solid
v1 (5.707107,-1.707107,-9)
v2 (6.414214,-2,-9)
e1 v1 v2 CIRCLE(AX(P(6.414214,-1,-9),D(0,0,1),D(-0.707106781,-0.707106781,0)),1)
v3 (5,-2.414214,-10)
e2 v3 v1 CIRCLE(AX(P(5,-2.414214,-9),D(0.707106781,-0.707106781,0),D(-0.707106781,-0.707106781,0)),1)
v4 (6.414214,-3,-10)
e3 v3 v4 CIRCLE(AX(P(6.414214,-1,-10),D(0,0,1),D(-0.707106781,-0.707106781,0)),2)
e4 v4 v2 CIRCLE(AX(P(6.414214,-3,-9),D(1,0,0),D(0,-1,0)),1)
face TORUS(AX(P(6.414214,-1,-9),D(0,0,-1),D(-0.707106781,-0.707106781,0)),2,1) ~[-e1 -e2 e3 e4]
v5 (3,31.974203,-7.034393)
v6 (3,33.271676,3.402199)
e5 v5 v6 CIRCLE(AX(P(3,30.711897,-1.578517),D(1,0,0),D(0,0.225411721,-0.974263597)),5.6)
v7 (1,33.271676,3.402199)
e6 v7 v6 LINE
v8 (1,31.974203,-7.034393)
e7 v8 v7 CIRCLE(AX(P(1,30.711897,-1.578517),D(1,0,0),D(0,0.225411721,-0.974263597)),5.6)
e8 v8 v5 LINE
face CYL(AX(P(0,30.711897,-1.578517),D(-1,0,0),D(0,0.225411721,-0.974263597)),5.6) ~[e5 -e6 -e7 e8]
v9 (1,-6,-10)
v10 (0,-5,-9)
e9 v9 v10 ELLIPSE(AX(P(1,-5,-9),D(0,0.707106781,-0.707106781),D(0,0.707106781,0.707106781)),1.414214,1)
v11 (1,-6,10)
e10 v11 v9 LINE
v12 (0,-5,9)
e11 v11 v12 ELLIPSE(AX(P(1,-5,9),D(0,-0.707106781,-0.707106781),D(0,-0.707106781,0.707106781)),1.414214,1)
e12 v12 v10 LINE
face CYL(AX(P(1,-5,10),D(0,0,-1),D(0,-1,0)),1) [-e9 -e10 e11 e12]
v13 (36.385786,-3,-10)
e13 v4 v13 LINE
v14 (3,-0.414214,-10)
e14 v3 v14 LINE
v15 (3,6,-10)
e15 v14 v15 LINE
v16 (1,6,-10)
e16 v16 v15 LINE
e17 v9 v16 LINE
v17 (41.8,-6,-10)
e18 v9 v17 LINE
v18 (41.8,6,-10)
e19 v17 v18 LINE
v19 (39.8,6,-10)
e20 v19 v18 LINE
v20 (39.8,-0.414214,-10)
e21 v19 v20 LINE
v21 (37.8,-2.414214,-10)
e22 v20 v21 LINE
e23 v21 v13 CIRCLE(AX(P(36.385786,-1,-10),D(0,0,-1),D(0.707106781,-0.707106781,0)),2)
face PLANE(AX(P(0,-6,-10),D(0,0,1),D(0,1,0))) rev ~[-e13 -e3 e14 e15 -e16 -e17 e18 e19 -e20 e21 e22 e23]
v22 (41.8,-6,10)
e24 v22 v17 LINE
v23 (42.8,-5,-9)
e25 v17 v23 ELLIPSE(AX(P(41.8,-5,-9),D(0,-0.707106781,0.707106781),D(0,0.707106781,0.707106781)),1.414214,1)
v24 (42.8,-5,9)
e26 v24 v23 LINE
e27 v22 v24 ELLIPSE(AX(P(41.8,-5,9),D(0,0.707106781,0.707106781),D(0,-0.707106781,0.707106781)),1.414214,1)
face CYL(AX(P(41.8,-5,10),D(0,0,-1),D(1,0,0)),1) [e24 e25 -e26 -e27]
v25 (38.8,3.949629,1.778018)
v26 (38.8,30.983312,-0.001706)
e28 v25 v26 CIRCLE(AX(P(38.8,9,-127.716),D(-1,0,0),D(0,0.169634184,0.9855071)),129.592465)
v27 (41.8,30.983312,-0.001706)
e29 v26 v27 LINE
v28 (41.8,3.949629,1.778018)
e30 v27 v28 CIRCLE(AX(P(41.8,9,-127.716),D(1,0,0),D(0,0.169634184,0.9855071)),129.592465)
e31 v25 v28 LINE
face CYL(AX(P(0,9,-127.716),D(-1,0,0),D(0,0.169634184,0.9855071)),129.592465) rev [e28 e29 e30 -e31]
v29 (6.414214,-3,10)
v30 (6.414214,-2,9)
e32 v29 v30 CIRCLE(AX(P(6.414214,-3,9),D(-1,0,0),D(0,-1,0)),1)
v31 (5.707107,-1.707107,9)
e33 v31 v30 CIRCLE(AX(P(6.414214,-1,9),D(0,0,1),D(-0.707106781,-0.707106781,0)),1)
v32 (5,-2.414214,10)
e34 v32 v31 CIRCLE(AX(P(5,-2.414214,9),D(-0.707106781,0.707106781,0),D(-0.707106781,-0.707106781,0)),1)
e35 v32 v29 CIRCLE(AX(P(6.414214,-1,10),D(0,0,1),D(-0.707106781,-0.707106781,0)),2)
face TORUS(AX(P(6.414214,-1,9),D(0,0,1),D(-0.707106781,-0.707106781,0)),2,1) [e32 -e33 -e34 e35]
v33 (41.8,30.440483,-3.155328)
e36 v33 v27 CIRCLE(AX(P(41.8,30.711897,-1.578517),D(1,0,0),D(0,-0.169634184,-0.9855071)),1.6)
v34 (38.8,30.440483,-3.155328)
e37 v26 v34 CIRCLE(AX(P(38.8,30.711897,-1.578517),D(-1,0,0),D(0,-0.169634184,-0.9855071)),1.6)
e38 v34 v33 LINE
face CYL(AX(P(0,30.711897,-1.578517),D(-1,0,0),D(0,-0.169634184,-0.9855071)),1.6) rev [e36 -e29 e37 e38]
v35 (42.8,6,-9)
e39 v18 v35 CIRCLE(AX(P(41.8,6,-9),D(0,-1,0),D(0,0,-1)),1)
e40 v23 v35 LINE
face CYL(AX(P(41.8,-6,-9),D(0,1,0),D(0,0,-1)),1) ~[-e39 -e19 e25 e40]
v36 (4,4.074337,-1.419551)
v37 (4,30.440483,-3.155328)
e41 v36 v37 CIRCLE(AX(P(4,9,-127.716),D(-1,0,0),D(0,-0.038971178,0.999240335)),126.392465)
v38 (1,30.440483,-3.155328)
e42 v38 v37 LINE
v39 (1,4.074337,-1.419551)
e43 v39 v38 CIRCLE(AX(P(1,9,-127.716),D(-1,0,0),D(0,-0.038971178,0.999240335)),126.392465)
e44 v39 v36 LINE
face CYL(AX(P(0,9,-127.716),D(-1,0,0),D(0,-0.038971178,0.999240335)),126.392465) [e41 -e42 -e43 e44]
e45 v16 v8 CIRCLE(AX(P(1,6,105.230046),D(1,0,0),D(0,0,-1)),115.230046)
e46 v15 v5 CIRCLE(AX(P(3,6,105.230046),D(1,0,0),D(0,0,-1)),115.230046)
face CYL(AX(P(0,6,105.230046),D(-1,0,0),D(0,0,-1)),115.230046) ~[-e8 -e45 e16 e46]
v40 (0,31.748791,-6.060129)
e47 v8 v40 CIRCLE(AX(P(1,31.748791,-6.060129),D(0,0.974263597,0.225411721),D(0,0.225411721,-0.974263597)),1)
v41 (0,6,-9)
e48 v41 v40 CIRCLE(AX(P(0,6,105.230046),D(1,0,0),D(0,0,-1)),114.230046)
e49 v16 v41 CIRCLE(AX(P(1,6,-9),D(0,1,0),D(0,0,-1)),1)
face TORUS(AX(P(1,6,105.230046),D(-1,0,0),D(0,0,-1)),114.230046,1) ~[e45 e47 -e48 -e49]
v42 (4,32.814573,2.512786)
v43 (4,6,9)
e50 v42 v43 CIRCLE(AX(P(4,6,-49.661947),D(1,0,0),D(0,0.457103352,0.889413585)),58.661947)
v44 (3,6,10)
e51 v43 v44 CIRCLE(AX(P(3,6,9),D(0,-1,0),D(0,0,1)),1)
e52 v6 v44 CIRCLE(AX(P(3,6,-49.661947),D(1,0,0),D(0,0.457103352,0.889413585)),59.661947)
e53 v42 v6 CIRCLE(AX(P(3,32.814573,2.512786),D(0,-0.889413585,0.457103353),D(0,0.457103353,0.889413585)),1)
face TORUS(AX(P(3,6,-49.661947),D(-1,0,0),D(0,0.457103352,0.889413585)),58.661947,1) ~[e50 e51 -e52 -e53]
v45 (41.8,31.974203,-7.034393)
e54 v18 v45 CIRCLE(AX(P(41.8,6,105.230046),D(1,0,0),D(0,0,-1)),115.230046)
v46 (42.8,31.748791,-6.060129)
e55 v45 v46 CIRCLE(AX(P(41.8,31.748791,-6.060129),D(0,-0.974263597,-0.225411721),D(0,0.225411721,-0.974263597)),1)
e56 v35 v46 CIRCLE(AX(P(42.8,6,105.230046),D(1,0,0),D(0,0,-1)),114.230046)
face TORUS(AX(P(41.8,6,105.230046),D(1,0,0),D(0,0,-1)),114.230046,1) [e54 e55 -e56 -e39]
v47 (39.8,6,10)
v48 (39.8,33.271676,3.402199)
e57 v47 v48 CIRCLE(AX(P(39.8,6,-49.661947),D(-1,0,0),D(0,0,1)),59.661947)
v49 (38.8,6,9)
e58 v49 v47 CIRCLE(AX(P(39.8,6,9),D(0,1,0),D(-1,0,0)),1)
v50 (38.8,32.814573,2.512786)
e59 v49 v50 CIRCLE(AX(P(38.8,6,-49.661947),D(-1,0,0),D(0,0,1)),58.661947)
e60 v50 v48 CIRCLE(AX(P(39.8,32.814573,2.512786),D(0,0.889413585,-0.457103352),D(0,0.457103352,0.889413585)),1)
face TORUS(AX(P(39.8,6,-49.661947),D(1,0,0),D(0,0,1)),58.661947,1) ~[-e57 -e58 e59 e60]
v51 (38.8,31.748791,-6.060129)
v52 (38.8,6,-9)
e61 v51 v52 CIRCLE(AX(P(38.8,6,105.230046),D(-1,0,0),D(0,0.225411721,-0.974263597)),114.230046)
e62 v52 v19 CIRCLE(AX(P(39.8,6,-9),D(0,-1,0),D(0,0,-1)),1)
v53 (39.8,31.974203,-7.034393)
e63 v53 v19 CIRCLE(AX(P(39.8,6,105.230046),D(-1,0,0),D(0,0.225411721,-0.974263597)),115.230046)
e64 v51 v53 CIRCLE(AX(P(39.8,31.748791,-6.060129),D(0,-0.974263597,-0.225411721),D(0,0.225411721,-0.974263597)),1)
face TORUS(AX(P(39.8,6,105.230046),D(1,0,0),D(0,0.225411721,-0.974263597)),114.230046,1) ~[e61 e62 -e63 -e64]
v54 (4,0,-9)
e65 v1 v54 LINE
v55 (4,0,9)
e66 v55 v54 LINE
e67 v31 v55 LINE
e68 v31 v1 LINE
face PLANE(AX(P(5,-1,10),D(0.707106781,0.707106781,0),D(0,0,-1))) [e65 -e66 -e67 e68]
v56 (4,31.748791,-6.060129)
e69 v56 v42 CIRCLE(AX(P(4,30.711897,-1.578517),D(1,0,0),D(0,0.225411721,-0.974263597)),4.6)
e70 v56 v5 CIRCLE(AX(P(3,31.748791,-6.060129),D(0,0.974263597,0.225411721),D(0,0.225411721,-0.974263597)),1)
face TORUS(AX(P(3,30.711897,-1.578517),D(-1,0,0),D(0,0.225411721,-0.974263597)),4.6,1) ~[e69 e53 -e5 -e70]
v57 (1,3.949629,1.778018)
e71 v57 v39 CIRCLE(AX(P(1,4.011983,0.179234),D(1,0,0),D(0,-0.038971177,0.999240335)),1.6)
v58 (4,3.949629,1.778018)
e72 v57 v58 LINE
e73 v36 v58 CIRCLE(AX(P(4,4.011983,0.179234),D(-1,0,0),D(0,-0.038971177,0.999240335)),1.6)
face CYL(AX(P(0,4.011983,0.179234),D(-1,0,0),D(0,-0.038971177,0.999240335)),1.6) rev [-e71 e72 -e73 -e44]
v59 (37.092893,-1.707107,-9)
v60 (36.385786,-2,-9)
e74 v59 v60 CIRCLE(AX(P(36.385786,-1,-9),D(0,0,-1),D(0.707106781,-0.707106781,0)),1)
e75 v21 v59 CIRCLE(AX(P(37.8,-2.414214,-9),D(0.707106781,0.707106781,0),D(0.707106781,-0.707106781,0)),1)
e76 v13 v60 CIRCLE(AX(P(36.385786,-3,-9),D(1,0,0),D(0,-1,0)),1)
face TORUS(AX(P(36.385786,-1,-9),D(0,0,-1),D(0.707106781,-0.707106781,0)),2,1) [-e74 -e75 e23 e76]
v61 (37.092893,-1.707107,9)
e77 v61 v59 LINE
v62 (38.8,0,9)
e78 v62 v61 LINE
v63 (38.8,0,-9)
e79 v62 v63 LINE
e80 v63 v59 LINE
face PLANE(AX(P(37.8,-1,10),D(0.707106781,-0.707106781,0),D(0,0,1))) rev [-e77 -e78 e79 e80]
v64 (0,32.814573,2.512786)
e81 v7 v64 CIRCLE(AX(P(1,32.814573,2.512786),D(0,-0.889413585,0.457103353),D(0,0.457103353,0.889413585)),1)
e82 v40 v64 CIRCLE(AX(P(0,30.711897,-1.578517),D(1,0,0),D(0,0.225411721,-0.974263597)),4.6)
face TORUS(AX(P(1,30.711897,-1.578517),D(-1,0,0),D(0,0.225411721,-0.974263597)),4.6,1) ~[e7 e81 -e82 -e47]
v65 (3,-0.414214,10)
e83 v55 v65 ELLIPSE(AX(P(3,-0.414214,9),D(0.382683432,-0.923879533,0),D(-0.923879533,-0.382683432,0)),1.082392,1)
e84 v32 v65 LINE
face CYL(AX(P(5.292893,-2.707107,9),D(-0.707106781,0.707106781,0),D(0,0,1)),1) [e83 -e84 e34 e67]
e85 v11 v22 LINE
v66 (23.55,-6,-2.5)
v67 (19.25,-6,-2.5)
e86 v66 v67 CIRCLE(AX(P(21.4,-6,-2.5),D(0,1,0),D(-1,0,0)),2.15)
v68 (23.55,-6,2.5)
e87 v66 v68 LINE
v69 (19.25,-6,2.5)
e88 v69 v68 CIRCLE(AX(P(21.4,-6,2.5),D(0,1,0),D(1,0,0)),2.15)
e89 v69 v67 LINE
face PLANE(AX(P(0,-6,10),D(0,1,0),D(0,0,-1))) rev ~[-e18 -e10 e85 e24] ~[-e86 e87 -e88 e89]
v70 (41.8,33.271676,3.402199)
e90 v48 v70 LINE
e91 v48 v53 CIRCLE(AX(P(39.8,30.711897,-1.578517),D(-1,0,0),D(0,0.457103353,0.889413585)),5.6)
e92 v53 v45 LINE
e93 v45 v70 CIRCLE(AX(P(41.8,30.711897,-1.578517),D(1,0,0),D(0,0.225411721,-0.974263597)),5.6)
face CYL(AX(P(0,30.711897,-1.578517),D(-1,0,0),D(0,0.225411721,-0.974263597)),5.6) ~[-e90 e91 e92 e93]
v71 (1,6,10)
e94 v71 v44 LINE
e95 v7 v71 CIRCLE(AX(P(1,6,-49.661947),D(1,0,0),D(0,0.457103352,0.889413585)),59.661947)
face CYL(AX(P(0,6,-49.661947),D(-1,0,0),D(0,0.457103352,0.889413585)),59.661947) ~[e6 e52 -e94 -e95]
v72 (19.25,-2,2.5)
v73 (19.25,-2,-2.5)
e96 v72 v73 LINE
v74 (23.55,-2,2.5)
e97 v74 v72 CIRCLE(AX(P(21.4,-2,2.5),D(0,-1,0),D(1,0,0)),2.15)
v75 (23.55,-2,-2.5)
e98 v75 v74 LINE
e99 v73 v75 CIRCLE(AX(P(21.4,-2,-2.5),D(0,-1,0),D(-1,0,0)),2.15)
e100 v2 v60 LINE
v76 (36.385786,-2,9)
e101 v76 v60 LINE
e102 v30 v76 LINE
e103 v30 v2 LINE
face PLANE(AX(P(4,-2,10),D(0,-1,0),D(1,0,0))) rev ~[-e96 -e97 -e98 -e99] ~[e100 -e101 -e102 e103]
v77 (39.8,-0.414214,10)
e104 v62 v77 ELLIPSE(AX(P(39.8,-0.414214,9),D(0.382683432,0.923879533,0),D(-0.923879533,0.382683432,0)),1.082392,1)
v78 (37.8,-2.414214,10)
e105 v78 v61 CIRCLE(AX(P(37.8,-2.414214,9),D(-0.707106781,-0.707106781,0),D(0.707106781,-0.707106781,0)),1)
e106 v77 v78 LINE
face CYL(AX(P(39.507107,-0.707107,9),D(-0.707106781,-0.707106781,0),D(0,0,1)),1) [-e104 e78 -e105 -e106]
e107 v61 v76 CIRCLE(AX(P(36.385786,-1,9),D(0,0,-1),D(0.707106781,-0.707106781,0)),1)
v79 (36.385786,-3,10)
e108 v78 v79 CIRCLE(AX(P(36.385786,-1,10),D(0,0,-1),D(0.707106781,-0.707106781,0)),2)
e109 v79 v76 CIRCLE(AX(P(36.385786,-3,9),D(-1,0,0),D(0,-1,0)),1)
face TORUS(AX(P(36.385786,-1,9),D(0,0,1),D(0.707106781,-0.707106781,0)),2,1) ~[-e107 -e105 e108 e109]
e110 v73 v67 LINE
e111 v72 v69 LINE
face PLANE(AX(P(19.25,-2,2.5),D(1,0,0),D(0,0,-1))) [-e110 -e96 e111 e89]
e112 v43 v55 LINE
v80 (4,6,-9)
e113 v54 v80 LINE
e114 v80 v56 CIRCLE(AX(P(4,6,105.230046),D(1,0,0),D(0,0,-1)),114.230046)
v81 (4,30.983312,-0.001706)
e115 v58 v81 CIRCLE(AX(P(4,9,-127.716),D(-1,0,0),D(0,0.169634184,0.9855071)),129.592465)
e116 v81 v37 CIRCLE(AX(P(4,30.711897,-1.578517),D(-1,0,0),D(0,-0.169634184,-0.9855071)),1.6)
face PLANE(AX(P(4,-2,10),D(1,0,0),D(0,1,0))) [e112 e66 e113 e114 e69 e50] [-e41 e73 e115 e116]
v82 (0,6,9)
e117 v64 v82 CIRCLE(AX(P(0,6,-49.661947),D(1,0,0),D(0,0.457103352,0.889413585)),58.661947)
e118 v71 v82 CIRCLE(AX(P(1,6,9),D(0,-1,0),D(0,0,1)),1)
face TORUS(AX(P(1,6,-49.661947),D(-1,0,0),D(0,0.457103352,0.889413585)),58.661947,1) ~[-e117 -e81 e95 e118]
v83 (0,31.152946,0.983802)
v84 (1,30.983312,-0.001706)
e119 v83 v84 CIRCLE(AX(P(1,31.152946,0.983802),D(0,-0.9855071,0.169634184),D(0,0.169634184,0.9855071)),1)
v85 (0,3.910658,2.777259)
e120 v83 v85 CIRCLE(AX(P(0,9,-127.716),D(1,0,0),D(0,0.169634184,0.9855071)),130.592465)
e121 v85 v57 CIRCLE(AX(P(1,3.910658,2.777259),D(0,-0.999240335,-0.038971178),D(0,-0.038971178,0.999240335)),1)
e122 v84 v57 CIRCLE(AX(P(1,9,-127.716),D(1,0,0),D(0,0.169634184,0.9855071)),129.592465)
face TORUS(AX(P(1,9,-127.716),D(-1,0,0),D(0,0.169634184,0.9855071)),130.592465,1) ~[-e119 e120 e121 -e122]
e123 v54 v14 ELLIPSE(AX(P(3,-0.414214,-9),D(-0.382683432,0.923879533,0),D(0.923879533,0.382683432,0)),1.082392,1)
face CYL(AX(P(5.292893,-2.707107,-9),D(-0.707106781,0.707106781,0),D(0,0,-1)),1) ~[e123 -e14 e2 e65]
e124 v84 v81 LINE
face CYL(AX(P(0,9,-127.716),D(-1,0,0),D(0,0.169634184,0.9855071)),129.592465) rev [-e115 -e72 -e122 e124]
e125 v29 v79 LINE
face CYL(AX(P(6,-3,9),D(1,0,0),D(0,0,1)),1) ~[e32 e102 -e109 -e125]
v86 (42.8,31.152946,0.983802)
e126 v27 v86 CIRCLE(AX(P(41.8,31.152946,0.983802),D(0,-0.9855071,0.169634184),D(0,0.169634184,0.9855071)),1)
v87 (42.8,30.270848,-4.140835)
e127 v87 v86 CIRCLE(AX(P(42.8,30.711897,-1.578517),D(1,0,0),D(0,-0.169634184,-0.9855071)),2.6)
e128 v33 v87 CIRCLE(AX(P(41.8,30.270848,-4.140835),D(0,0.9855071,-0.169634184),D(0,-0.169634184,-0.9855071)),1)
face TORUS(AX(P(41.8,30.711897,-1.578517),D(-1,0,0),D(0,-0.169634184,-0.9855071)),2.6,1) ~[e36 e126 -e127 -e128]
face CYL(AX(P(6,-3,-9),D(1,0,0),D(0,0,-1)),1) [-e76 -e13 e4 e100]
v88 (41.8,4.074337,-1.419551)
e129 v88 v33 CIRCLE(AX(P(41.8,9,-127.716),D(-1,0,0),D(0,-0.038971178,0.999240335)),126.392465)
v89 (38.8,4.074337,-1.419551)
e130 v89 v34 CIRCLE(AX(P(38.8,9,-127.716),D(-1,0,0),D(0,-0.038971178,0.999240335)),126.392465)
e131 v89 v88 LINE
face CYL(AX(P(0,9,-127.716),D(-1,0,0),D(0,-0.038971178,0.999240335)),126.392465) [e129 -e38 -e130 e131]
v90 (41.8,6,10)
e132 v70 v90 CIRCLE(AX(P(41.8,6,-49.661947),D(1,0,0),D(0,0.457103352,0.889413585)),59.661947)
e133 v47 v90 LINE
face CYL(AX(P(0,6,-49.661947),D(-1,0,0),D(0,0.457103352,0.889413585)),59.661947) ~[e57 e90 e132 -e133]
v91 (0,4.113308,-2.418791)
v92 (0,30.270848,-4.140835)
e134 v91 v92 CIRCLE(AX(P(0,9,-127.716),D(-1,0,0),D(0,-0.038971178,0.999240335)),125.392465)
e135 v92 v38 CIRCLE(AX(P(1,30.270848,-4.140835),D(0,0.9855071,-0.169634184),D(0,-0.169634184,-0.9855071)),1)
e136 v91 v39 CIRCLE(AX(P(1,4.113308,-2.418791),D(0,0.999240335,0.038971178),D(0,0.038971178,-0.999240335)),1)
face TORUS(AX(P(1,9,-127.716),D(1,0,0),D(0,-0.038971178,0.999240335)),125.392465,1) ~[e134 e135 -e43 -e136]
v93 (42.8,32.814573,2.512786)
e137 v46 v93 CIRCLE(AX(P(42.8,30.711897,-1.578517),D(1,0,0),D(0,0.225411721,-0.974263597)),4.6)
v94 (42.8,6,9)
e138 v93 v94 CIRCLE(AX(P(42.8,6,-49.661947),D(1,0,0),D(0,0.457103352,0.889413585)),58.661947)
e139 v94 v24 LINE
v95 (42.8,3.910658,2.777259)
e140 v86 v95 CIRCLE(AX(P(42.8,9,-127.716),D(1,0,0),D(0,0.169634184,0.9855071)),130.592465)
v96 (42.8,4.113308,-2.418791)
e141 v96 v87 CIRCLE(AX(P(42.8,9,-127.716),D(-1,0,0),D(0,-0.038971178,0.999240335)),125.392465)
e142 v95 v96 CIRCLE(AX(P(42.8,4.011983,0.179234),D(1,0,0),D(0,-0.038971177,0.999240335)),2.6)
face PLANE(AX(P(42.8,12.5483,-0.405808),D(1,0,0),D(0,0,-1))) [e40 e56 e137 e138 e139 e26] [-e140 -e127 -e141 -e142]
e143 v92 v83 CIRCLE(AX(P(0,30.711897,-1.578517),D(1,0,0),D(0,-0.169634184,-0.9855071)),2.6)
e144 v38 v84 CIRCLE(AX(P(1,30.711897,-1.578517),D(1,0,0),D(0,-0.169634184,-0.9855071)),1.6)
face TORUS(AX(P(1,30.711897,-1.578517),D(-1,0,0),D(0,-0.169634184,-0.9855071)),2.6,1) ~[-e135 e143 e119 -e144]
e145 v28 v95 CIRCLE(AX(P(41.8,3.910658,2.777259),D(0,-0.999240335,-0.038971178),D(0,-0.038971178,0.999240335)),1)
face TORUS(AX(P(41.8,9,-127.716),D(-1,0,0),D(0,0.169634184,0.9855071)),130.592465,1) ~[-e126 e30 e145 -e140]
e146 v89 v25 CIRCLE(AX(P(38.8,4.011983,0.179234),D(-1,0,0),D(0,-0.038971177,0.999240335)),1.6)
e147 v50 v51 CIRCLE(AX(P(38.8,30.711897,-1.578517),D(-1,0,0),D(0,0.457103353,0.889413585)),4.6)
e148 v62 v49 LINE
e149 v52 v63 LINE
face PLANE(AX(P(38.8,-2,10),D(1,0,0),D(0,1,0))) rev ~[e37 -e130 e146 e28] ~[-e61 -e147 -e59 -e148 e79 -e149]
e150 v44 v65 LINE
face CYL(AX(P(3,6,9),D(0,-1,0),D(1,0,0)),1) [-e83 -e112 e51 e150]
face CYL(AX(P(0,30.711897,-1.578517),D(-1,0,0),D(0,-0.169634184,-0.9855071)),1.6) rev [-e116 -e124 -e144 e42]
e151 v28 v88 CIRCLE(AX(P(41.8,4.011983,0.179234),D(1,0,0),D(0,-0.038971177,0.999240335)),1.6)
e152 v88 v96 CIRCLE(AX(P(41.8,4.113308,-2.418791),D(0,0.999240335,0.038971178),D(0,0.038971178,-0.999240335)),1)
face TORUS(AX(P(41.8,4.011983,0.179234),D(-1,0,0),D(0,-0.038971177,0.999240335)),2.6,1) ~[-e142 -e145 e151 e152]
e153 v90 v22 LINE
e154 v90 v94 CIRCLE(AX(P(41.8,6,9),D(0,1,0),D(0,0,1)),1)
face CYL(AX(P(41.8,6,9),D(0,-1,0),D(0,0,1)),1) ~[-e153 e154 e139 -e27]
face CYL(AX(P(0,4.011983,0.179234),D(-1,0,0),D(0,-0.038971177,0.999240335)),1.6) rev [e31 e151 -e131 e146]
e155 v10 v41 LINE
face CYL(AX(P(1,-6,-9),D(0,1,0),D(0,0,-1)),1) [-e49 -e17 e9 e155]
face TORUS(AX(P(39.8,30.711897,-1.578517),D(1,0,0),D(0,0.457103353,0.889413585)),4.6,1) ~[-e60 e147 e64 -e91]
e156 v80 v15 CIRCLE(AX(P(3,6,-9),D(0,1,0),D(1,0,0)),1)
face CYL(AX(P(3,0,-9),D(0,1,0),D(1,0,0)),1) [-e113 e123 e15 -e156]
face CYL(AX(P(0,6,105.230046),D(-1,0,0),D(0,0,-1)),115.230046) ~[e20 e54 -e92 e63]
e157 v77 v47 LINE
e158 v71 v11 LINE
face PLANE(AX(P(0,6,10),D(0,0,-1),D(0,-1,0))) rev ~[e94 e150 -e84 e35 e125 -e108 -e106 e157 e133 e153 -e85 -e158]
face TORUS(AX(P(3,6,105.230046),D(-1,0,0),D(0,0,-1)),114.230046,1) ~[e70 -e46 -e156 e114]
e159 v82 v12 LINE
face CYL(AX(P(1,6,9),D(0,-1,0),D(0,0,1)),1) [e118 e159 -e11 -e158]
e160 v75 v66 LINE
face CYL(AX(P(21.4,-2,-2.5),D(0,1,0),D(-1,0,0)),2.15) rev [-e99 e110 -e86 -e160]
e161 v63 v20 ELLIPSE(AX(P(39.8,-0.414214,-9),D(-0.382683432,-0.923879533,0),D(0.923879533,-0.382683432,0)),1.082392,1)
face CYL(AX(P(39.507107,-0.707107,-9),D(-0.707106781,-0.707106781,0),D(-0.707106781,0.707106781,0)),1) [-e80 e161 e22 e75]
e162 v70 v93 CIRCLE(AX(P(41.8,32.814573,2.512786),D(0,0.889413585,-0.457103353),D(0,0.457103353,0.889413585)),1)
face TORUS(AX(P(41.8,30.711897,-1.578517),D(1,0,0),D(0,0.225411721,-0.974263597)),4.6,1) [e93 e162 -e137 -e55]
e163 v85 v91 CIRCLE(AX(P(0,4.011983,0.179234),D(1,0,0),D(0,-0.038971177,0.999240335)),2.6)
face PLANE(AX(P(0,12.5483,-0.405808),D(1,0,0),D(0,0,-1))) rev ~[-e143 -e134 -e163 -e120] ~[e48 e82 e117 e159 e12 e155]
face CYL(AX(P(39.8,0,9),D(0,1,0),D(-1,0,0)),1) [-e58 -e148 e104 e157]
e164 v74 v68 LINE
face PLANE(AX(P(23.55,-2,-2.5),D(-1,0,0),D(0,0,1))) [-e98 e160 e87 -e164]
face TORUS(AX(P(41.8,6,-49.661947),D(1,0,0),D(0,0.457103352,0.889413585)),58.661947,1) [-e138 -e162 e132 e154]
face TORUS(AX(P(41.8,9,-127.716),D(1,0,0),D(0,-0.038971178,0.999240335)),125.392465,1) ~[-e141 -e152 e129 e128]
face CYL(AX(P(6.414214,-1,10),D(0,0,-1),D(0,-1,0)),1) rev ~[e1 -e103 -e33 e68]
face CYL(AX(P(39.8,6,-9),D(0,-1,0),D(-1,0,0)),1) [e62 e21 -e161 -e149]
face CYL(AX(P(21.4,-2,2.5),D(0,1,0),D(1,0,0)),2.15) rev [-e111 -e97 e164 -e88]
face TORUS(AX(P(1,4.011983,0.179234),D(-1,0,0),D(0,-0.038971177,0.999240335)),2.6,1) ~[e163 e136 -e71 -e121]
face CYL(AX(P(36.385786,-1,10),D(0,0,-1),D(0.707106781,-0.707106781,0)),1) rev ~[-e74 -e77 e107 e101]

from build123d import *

# Parameters (mm, degrees)
BOSS_EXTRUDE1_DEPTH = 42.8
SKETCH2_W           = 34.8
SKETCH2_H           = 38.311897311
CUT_EXTRUDE1_DEPTH  = 60.585181768
CHAMFER1_SIZE       = 2
FILLET1_R           = 1
CUT_EXTRUDE2_DEPTH  = 59.306444702


with BuildPart() as part:
    # Sketch1 → Boss-Extrude1 (new body)
    with BuildSketch(Plane(origin=(0, 0, 0), x_dir=(0, 0, -1), z_dir=(1, 0, 0))):
        with BuildLine():
            Line((-10, -6), (10, -6))
            Line((10, -6), (10, 6))
            ThreePointArc((10, 6), (9.25619767, 19.071476996), (7.034393072, 31.974202951))
            ThreePointArc((7.034393072, 31.974202951), (2.269388413, 36.269117533), (-3.402199146, 33.271676085))
            ThreePointArc((-3.402199146, 33.271676085), (-8.327095908, 20.029213205), (-10, 6))
            Line((-10, 6), (-10, -6))
        make_face()
        with BuildLine():
            ThreePointArc((0.001705571, 30.983312005), (-1.596543983, 17.513106187), (-1.778018244, 3.949628997))
            ThreePointArc((-1.778018244, 3.949628997), (-0.116879823, 2.413198345), (1.419550828, 4.074336766))
            ThreePointArc((1.419550828, 4.074336766), (1.596543983, 17.302893813), (3.15532829, 30.440482617))
            ThreePointArc((3.15532829, 30.440482617), (1.849931624, 32.288708671), (0.001705571, 30.983312005))
        make_face(mode=Mode.SUBTRACT)
    extrude(amount=BOSS_EXTRUDE1_DEPTH)

    # Sketch2 → Cut-Extrude1 (cut, through all)
    with BuildSketch(Plane.XY.offset(10)):
        with Locations((21.4, 17.155948656)):
            Rectangle(SKETCH2_W, SKETCH2_H)
    extrude(amount=-CUT_EXTRUDE1_DEPTH, mode=Mode.SUBTRACT)

    # Chamfer1
    chamfer1_edges = [part.edges().sort_by_distance(p)[0] for p in [
        (4, -2, 0),
        (38.8, -2, 0),
    ]]
    chamfer(chamfer1_edges, length=CHAMFER1_SIZE)

    # Fillet1
    fillet1_edges = [part.edges().sort_by_distance(p)[0] for p in [
        (42.8, 20.029213205, 8.327095908),
        (42.8, 0, 10),
        (42.8, -6, 0),
        (42.8, 0, -10),
        (0, 32.288708671, -1.849931624),
        (0, 17.513106187, 1.596543983),
        (0, 2.413198345, 0.116879823),
        (0, 17.302893813, -1.596543983),
        (42.8, 32.288708671, -1.849931624),
        (42.8, 17.513106187, 1.596543983),
        (42.8, 2.413198345, 0.116879823),
        (42.8, 17.302893813, -1.596543983),
        (42.8, 19.071476996, -9.25619767),
        (4, 36.269117533, -2.269388413),
        (4, 19.071476996, -9.25619767),
        (4, 3, -10),
        (4, 20.029213205, 8.327095908),
        (38.8, 19.071476996, -9.25619767),
        (38.8, 36.269117533, -2.269388413),
        (38.8, 20.029213205, 8.327095908),
        (4, 3, 10),
        (0, 0, -10),
        (0, -6, 0),
        (0, 0, 10),
        (42.8, 36.269117533, -2.269388413),
        (38.8, 3, -10),
        (38.8, 3, 10),
        (21.4, -2, 10),
        (0, 20.029213205, 8.327095908),
        (21.4, -2, -10),
        (6, -2, 0),
        (36.8, -2, 0),
        (37.8, -1, 10),
        (37.8, -1, -10),
        (5, -1, 10),
        (0, 36.269117533, -2.269388413),
        (5, -1, -10),
        (0, 19.071476996, -9.25619767),
    ]]
    fillet(fillet1_edges, radius=FILLET1_R)

    # Sketch3 → Cut-Extrude2 (cut, through all)
    with BuildSketch(Plane(origin=(0, -2, 0), x_dir=(1, 0, 0), z_dir=(0, 1, 0))):
        with BuildLine():
            Line((19.25, -2.5), (19.25, 2.5))
            ThreePointArc((19.25, 2.5), (21.4, 4.65), (23.55, 2.5))
            Line((23.55, 2.5), (23.55, -2.5))
            ThreePointArc((23.55, -2.5), (21.4, -4.65), (19.25, -2.5))
        make_face()
    extrude(amount=-CUT_EXTRUDE2_DEPTH, mode=Mode.SUBTRACT)


solid = part.part
